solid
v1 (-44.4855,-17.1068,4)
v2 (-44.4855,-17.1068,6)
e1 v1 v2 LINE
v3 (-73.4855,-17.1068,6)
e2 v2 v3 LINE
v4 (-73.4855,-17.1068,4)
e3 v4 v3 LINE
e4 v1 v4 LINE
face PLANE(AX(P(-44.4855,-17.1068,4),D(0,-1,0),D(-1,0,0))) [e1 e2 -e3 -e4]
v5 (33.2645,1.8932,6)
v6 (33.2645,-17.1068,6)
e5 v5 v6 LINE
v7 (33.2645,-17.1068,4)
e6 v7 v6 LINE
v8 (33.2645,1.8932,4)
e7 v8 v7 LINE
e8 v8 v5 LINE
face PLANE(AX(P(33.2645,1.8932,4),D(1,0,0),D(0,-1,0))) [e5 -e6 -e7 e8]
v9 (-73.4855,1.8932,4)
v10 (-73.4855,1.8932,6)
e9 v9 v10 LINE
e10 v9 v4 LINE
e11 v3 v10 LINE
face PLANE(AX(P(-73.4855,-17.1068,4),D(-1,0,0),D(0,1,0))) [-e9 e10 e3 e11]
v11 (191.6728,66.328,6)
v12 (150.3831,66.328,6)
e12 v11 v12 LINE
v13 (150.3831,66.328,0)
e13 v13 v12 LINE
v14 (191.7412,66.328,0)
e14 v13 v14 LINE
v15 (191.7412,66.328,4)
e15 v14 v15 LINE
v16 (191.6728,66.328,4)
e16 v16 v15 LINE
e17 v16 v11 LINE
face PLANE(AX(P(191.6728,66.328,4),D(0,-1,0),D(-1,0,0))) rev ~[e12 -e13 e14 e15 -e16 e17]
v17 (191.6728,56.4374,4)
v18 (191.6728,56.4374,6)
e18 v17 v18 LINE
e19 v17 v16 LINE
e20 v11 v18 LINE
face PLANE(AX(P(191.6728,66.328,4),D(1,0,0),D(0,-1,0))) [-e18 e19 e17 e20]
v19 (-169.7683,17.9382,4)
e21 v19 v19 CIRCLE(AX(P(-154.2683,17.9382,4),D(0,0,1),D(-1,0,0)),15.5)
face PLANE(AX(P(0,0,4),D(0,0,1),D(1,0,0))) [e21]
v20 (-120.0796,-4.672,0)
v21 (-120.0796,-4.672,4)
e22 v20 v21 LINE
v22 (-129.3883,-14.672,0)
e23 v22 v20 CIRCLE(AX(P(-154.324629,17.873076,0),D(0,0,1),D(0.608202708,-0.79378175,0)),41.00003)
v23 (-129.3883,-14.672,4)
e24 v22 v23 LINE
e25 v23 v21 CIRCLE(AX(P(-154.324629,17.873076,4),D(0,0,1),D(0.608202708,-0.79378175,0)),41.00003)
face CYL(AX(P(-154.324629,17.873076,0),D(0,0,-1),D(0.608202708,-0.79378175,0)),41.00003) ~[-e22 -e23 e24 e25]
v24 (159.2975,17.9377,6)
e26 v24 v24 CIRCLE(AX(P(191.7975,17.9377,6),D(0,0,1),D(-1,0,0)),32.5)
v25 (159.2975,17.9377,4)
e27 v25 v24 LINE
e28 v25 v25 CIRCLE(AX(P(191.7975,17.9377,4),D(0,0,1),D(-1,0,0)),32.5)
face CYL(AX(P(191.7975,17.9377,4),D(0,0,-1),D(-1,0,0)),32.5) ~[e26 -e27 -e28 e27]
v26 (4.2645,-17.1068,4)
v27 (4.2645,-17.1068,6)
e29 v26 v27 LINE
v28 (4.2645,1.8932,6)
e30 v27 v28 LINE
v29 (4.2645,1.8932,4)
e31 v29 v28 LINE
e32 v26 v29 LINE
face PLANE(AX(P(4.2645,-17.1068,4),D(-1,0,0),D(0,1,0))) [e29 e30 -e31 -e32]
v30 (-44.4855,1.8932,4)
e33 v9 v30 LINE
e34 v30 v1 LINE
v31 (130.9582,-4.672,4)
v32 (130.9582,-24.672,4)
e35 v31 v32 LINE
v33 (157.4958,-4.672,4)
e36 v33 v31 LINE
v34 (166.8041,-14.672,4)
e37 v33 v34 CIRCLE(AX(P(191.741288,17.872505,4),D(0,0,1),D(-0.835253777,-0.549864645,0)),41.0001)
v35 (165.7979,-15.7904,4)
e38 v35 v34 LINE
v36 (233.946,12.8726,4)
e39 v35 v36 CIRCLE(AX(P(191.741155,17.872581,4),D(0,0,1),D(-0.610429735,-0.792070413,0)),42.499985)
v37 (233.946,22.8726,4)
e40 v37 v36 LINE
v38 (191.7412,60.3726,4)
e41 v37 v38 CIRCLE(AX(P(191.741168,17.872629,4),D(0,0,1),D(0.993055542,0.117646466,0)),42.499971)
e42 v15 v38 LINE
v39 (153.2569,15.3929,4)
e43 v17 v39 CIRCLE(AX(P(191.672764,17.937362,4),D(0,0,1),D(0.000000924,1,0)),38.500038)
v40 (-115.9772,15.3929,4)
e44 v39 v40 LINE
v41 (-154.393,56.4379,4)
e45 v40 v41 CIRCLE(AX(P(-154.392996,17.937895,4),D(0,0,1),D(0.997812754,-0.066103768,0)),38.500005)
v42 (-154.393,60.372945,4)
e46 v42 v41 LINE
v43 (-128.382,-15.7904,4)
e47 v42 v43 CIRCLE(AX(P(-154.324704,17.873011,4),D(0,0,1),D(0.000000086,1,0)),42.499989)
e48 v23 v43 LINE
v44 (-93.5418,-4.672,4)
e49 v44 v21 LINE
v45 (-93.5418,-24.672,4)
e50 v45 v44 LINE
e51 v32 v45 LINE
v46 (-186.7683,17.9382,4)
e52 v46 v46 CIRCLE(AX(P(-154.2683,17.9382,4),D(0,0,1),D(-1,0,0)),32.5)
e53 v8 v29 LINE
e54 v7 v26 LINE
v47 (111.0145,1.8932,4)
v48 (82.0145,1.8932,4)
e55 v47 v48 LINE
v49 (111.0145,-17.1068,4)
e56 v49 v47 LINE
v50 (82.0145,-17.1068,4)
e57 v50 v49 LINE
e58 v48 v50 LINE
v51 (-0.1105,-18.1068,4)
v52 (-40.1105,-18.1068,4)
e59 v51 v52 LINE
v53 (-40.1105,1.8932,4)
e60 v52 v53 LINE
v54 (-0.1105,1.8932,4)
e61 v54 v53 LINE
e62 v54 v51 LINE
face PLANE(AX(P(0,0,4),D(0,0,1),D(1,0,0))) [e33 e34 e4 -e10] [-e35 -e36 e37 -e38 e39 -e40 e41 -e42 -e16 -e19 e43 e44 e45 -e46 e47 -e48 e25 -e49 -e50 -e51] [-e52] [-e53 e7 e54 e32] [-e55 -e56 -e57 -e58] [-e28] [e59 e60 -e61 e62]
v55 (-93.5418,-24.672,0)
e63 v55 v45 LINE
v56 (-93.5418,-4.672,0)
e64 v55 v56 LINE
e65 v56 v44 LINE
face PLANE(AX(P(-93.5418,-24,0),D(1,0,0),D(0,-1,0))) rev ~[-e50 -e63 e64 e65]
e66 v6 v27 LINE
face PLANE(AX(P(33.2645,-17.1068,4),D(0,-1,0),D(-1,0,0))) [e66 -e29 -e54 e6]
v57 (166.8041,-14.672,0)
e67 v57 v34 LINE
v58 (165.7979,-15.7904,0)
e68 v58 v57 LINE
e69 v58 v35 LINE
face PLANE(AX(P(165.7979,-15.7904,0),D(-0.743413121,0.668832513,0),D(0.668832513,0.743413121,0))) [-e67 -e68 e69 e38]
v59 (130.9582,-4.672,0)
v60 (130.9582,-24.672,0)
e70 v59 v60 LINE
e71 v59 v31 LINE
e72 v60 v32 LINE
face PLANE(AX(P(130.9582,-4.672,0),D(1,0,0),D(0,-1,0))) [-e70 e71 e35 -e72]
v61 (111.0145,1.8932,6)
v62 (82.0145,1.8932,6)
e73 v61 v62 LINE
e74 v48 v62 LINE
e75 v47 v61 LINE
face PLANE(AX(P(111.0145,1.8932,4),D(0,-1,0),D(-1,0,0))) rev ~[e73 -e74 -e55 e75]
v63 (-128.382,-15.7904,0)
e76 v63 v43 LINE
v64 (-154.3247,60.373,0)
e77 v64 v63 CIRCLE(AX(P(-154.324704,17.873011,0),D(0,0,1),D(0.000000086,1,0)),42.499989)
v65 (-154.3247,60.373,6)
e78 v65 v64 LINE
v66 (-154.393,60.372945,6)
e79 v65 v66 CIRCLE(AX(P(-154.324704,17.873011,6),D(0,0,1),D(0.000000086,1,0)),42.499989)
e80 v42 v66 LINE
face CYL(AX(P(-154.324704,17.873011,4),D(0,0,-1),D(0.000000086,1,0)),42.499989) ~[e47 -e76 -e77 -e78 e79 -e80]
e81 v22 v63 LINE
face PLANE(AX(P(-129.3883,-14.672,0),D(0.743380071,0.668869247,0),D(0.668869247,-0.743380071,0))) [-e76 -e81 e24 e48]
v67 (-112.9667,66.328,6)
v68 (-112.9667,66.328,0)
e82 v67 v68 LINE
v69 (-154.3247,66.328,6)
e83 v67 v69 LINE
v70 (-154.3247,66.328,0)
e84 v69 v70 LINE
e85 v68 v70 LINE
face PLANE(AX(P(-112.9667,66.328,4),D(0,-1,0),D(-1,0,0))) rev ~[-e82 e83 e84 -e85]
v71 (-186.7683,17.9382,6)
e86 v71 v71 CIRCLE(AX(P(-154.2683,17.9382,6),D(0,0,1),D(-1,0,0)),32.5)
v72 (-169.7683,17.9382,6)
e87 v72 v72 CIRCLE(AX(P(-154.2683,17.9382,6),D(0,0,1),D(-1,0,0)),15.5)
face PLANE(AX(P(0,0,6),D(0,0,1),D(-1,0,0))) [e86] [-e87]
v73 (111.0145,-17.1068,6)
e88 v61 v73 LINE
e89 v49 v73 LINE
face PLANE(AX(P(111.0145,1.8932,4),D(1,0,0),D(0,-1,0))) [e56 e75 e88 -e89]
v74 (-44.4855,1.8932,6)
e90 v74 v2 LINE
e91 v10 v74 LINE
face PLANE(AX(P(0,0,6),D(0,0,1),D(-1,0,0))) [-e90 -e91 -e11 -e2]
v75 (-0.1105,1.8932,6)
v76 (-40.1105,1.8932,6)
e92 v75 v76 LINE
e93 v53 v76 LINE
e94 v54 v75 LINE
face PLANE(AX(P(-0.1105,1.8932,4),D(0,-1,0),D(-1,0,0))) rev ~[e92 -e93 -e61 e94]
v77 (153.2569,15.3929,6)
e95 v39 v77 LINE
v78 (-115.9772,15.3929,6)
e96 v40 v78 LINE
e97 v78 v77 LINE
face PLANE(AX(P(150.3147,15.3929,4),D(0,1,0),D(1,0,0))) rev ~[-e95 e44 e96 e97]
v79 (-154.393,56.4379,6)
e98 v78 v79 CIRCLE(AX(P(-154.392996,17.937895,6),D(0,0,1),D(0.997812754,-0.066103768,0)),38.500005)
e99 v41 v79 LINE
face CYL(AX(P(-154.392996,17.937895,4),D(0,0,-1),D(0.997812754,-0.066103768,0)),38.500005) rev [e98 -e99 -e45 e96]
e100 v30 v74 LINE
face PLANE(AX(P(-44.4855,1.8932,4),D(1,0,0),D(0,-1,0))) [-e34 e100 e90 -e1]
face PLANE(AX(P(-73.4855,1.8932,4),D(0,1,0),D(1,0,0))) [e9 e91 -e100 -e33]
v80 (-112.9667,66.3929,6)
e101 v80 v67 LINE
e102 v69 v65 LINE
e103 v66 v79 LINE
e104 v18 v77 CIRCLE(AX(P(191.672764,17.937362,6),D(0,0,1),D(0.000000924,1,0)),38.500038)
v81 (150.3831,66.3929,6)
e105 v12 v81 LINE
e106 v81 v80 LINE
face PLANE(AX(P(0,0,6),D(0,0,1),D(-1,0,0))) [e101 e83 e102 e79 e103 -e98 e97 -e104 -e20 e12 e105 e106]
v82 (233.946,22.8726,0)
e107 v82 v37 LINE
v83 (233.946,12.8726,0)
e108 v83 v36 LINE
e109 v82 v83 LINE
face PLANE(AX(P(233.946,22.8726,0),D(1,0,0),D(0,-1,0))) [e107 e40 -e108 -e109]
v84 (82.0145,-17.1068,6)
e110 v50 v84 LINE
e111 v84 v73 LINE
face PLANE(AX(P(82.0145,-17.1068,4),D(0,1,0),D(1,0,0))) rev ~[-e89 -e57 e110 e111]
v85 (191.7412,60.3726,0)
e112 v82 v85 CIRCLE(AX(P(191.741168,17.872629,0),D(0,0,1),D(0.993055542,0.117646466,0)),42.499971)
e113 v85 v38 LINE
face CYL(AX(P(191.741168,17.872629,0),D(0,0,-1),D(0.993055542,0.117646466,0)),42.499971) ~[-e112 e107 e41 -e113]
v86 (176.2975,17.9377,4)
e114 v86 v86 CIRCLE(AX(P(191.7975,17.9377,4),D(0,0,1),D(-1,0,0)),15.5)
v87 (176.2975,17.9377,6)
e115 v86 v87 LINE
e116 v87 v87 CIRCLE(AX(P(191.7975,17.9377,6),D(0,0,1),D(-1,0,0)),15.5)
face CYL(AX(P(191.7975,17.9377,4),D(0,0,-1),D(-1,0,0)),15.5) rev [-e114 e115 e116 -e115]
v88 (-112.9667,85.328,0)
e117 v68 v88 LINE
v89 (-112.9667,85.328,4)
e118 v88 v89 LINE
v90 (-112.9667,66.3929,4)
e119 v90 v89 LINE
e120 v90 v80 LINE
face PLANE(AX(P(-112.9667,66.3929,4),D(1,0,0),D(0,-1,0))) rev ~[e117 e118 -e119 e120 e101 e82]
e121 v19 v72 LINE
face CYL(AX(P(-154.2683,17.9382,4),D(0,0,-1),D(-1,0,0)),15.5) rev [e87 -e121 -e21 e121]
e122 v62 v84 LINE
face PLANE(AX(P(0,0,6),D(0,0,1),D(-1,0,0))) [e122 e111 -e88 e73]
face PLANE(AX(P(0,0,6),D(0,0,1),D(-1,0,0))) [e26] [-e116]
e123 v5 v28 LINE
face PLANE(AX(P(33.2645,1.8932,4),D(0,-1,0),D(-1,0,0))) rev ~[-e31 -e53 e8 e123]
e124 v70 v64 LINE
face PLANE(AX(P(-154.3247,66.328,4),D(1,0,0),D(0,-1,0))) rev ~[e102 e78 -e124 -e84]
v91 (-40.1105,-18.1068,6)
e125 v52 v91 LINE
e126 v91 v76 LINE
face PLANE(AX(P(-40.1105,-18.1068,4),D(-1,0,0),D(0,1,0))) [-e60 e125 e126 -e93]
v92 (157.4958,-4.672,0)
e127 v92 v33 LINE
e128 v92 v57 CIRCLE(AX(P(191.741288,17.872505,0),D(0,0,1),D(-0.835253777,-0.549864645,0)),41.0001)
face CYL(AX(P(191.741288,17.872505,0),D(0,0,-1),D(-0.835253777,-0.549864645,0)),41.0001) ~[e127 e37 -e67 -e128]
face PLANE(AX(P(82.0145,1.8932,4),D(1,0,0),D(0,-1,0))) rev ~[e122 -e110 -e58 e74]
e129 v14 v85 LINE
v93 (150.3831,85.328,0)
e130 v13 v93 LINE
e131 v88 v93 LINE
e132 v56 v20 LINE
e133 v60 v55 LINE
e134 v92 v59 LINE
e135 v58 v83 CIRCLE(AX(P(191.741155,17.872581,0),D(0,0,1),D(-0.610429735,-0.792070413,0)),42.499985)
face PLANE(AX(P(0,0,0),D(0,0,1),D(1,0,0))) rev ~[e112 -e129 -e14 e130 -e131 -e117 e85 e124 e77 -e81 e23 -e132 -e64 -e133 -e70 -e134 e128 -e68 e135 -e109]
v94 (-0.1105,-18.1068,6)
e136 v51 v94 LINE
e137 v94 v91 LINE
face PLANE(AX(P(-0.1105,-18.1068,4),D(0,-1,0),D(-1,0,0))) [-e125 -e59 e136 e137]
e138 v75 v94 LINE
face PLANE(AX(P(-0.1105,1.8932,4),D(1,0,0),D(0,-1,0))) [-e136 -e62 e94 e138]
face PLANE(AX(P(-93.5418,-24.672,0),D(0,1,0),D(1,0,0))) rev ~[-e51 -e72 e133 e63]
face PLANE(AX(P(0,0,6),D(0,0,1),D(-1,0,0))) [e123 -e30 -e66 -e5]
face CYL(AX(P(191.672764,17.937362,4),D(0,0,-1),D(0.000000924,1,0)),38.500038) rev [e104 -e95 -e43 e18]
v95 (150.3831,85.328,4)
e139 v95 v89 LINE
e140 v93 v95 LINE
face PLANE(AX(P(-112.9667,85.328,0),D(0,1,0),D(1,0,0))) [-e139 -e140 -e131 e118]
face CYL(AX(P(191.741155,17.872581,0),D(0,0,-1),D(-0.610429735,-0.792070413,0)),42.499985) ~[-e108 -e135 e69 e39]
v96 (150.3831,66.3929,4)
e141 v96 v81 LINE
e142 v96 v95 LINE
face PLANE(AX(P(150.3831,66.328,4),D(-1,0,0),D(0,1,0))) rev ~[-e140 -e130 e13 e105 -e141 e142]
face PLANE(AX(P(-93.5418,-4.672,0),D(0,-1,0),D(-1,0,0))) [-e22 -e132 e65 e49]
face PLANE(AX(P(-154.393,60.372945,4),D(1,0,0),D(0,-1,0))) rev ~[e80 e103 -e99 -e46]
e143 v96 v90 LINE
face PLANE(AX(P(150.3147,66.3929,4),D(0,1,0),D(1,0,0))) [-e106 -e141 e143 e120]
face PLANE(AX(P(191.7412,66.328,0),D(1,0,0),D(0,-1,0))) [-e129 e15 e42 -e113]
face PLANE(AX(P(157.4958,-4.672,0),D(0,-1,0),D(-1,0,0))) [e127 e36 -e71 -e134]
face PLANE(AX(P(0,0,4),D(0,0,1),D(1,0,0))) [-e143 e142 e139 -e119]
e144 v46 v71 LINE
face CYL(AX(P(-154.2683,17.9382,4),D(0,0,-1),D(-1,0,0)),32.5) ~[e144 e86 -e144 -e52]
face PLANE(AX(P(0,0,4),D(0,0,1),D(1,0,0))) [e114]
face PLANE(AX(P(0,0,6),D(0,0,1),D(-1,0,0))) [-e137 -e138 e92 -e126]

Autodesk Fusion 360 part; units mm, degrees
sketch "Sketch1" plane through (0, 0, 0) normal (0, 0, 1) x (1, 0, 0)
  line L0 (110.9582, 1.828) -> (110.9582, -11.672)
  line L1 (-73.5418, 1.828) -> (-73.5418, -11.672)
  line L2 (-73.5418, -24.672) -> (110.9582, -24.672)
  line L3 (-73.5418, 15.328) -> (110.9582, 15.328)
  line L4 (110.9582, -24.672) -> (130.9582, -24.672)
  line L5 (130.9582, -24.672) -> (130.9582, -11.672)
  line L6 (130.9582, 15.328) -> (110.9582, 15.328)
  line L7 (-73.5418, 15.328) -> (-93.5418, 15.328)
  line L8 (-93.5418, -4.672) -> (-93.5418, -24.672)
  line L9 (-93.5418, -24.672) -> (-73.5418, -24.672)
  line L10 (130.9582, -4.672) -> (150.3831, -4.672)
  line L11 (130.9582, 15.328) -> (150.3831, 15.328)
  line L12 (-93.5418, -24.672) -> (-93.5418, -24)
  line L13 (-93.5418, -4.672) -> (-112.9667, -4.672)
  line L14 (-93.5418, 15.328) -> (-112.9667, 15.328)
  line L15 (130.9582, -4.672) -> (130.9582, -11.672)
  line L16 (-112.9667, 85.328) -> (-110, 85.328)
  line L17 (-110, 85.328) -> (150.3831, 85.328)
  line L18 (18.7082, 66.328) -> (150.3831, 66.328)
  line L19 (18.7082, 66.328) -> (16.2618, 66.328)
  line L20 (16.2618, 66.328) -> (-112.9667, 66.328)
  line L21 (157.4958, -4.672) -> (150.3831, -4.672)
  line L22 (191.7412, -4.672) -> (190, -4.672)
  line L23 (-112.9667, -4.672) -> (-120.0796, -4.672)
  circle A0 centre (191.7412, 17.8726) radius 32.5
  circle A1 centre (-154.3247, 17.873) radius 32.5
  line L24 (-112.9667, 66.328) -> (-154.3247, 66.328)
  line L25 (-154.3247, 66.328) -> (-154.3247, 60.373)
  line L26 (150.3831, 66.328) -> (191.7412, 66.328)
  line L27 (191.7412, 66.328) -> (191.7412, 60.3726)
  line L28 (150.3831, 66.328) -> (150.3831, 85.328)
  line L29 (150.3831, 15.328) -> (153.3253, 15.328)
  line L30 (191.7412, 60.3726) -> (191.7412, 56.3726)
  arc A2 (157.4958, -4.672) -> (166.8041, -14.672) centre (191.7412, 17.8726) ccw
  arc A3 (191.7412, 56.3726) -> (153.3253, 15.328) centre (191.7412, 17.8726) ccw
  line L31 (-112.9667, 66.328) -> (-112.9667, 85.328)
  line L32 (-154.3247, 60.373) -> (-154.3247, 56.373)
  line L33 (-112.9667, 15.328) -> (-115.9089, 15.328)
  arc A4 (-154.3247, 60.373) -> (-128.382, -15.7904) centre (-154.3247, 17.873) ccw
  arc A5 (-129.3883, -14.672) -> (-120.0796, -4.672) centre (-154.3247, 17.873) ccw
  arc A6 (-115.9089, 15.328) -> (-154.3247, 56.373) centre (-154.3247, 17.873) ccw
  line L34 (130.9582, -24.672) -> (130.9582, -14.672)
  line L35 (165.7979, -15.7904) -> (166.8041, -14.672)
  line L36 (-129.3883, -14.672) -> (-128.382, -15.7904)
  arc A7 (165.7979, -15.7904) -> (233.946, 12.8726) centre (191.7412, 17.8726) ccw
  arc A8 (233.946, 22.8726) -> (191.7412, 60.3726) centre (191.7412, 17.8726) ccw
  line L37 (110.9582, 1.828) -> (81.9582, 1.828)
  line L38 (81.9582, 1.828) -> (81.9582, -17.172)
  line L39 (81.9582, -17.172) -> (110.9582, -17.172)
  line L40 (110.9582, -17.172) -> (110.9582, -11.672)
  line L41 (-73.5418, 1.828) -> (-44.5418, 1.828)
  line L42 (-44.5418, 1.828) -> (-44.5418, -17.172)
  line L43 (-44.5418, -17.172) -> (-73.5418, -17.172)
  line L44 (-73.5418, -17.172) -> (-73.5418, -11.672)
  line L45 (33.2082, 1.828) -> (4.2082, 1.828)
  line L46 (33.2082, 1.828) -> (33.2082, -17.172)
  line L47 (33.2082, -17.172) -> (4.2082, -17.172)
  line L48 (4.2082, -17.172) -> (4.2082, 1.828)
  line L49 (-0.1668, 1.828) -> (-40.1668, 1.828)
  line L50 (-0.1668, 1.828) -> (-0.1668, -18.172)
  line L51 (-0.1668, -18.172) -> (-40.1668, -18.172)
  line L52 (-40.1668, -18.172) -> (-40.1668, 1.828)
  line L53 (233.946, 22.8726) -> (233.946, 12.8726)
  circle A9 centre (-154.3247, 17.873) radius 15.5
  circle A10 centre (191.7412, 17.8726) radius 15.5
  dimension "d9" = 13
  dimension "d10" = 13
  dimension "d12" = 13.5
  dimension "d13" = 13.5
  dimension "d14" = 20
  dimension "d15" = 20
  dimension "d16" = 20
  dimension "d17" = 20
  dimension "d50" = 70
  dimension "d51" = 70
  dimension "d57" = 65
  dimension "d58" = 77
  dimension "d59" = 65
  dimension "d60" = 77
  dimension "d61" = 82
  dimension "d63" = 82
  dimension "d64" = 85
  dimension "d65" = 10
  dimension "d68" = 29
  dimension "d69" = 19
  dimension "d70" = 29
  dimension "d71" = 19
  dimension "d73" = 29
  dimension "d74" = 19
  dimension "d76" = 40
  dimension "d77" = 20
  dimension "d78" = 40
  dimension "d79" = 31
  dimension "d80" = 31
extrude "Extrude1" add sketch "Sketch1" along normal blind 4 contours L0 L37 L38 L39 L40 | L1 L41 L42 L43 L44 | L2 L3 L4 L5 L6 L7 L8 L9 L10 L11 L12 L13 L14 L15 L21 L23 L29 L30 A2 A3 L32 L33 A4 A5 A6 L34 L35 L36 A7 A8 L53 | L3 L6 L7 L11 L14 L18 L19 L20 L24 L25 L26 L27 L29 L30 A3 L32 L33 A6 | L16 L17 L18 L19 L20 L28 L31 | A0 | A1 | L45 L46 L47 L48 | L49 L50 L51 L52 | A9 | A10
sketch "Sketch2" plane through (0, 0, 4) normal (0, 0, 1) x (-1, 0, 0)
  line L0 (-150.3831, -66.328) -> (-150.3831, -85.328)
  line L1 (-150.3831, -85.328) -> (112.9667, -85.328)
  line L2 (112.9667, -85.328) -> (112.9667, -66.328)
  line L3 (112.9667, -66.328) -> (154.3247, -66.328)
  line L4 (154.3247, -66.328) -> (154.3247, -60.373)
  arc A0 (154.3247, -60.373) -> (128.382, 15.7904) centre (154.3247, -17.873) ccw
  line L5 (128.382, 15.7904) -> (129.3883, 14.672)
  arc A1 (129.3883, 14.672) -> (120.0796, 4.672) centre (154.3247, -17.873) ccw
  line L6 (120.0796, 4.672) -> (93.5418, 4.672)
  line L7 (93.5418, 4.672) -> (93.5418, 24.672)
  line L8 (93.5418, 24.672) -> (-130.9582, 24.672)
  line L9 (-130.9582, 24.672) -> (-130.9582, 4.672)
  line L10 (-130.9582, 4.672) -> (-157.4958, 4.672)
  arc A2 (-157.4958, 4.672) -> (-166.8041, 14.672) centre (-191.7412, -17.8726) ccw
  line L11 (-166.8041, 14.672) -> (-165.7979, 15.7904)
  arc A3 (-165.7979, 15.7904) -> (-233.946, -12.8726) centre (-191.7412, -17.8726) ccw
  line L12 (-233.946, -12.8726) -> (-233.946, -22.8726)
  arc A4 (-233.946, -22.8726) -> (-191.7412, -60.3726) centre (-191.7412, -17.8726) ccw
  line L13 (-191.7412, -60.3726) -> (-191.7412, -66.328)
  line L14 (-191.7412, -66.328) -> (-150.3831, -66.328)
  arc A5 (-191.6728, -56.4374) -> (-153.2569, -15.3929) centre (-191.6728, -17.9374) ccw
  line L15 (154.393, -66.3929) -> (154.393, -60.4379)
  line L16 (73.6102, -15.3929) -> (-110.8898, -15.3929)
  line L17 (113.035, -66.3929) -> (113.035, -85.3929)
  line L18 (40.2352, 18.1071) -> (40.2352, -1.8929)
  line L19 (110.0684, -85.3929) -> (-150.3147, -85.3929)
  line L20 (0.2352, 18.1071) -> (40.2352, 18.1071)
  line L21 (-33.1398, -1.8929) -> (-33.1398, 17.1071)
  line L22 (-16.1934, -66.3929) -> (113.035, -66.3929)
  arc A6 (154.393, -60.4379) -> (128.4504, 15.7255) centre (154.393, -17.9379) ccw
  line L23 (-18.6398, -66.3929) -> (-150.3147, -66.3929)
  line L24 (73.6102, 24.6071) -> (-110.8898, 24.6071)
  arc A7 (129.4567, 14.6071) -> (120.148, 4.6071) centre (154.393, -17.9379) ccw
  line L25 (113.035, -66.3929) -> (154.393, -66.3929)
  line L26 (73.6102, -15.3929) -> (93.6102, -15.3929)
  line L27 (113.035, -15.3929) -> (115.9772, -15.3929)
  line L28 (113.035, 4.6071) -> (120.148, 4.6071)
  line L29 (93.6102, 4.6071) -> (113.035, 4.6071)
  line L30 (93.6102, 24.6071) -> (93.6102, 23.9351)
  line L31 (44.6102, 17.1071) -> (73.6102, 17.1071)
  line L32 (93.6102, 4.6071) -> (93.6102, 24.6071)
  line L33 (0.2352, -1.8929) -> (0.2352, 18.1071)
  line L34 (73.6102, -1.8929) -> (44.6102, -1.8929)
  line L35 (93.6102, 24.6071) -> (73.6102, 24.6071)
  line L36 (73.6102, 17.1071) -> (73.6102, 11.6071)
  line L37 (-18.6398, -66.3929) -> (-16.1934, -66.3929)
  line L38 (129.4567, 14.6071) -> (128.4504, 15.7255)
  line L39 (73.6102, -1.8929) -> (73.6102, 11.6071)
  line L40 (154.393, -60.4379) -> (154.393, -56.4379)
  line L41 (-4.1398, 17.1071) -> (-4.1398, -1.8929)
  line L42 (44.6102, -1.8929) -> (44.6102, 17.1071)
  line L43 (113.035, -85.3929) -> (110.0684, -85.3929)
  line L44 (93.6102, -15.3929) -> (113.035, -15.3929)
  line L45 (-33.1398, 17.1071) -> (-4.1398, 17.1071)
  line L46 (-33.1398, -1.8929) -> (-4.1398, -1.8929)
  line L47 (0.2352, -1.8929) -> (40.2352, -1.8929)
  circle A8 centre (-191.6728, -17.9374) radius 15.5
  line L48 (-110.8898, -1.8929) -> (-81.8898, -1.8929)
  line L49 (-191.6728, -60.4374) -> (-191.6728, -56.4374)
  line L50 (-130.8898, 4.6071) -> (-150.3147, 4.6071)
  line L51 (-130.8898, -15.3929) -> (-110.8898, -15.3929)
  line L52 (-81.8898, -1.8929) -> (-81.8898, 17.1071)
  arc A9 (-233.8776, -22.9374) -> (-191.6728, -60.4374) centre (-191.6728, -17.9374) ccw
  circle A10 centre (-191.6728, -17.9374) radius 32.5
  line L53 (-130.8898, 24.6071) -> (-130.8898, 11.6071)
  arc A11 (-157.4274, 4.6071) -> (-166.7357, 14.6071) centre (-191.6728, -17.9374) ccw
  line L54 (-157.4274, 4.6071) -> (-150.3147, 4.6071)
  line L55 (-110.8898, 24.6071) -> (-130.8898, 24.6071)
  line L56 (-130.8898, -15.3929) -> (-150.3147, -15.3929)
  line L57 (-110.8898, 17.1071) -> (-110.8898, 11.6071)
  line L58 (-165.7295, 15.7255) -> (-166.7357, 14.6071)
  line L59 (-191.6728, -66.3929) -> (-191.6728, -60.4374)
  line L60 (-130.8898, 24.6071) -> (-130.8898, 14.6071)
  line L61 (-81.8898, 17.1071) -> (-110.8898, 17.1071)
  arc A12 (-165.7295, 15.7255) -> (-233.8776, -12.9374) centre (-191.6728, -17.9374) ccw
  line L62 (-150.3147, -15.3929) -> (-153.2569, -15.3929)
  line L63 (-233.8776, -22.9374) -> (-233.8776, -12.9374)
  line L64 (-110.8898, -1.8929) -> (-110.8898, 11.6071)
  line L65 (-150.3147, -66.3929) -> (-150.3147, -85.3929)
  line L66 (-130.8898, 4.6071) -> (-130.8898, 11.6071)
  line L67 (-150.3147, -66.3929) -> (-191.6728, -66.3929)
  circle A13 centre (154.393, -17.9379) radius 32.5
  circle A14 centre (154.393, -17.9379) radius 15.5
  arc A15 (115.9772, -15.3929) -> (154.393, -56.4379) centre (154.393, -17.9379) ccw
  point P0 (0.0684, -0.0649)
  dimension "d83" = 13
  dimension "d84" = 13
  dimension "d85" = 13.5
  dimension "d86" = 13.5
  dimension "d87" = 20
  dimension "d88" = 20
  dimension "d89" = 20
  dimension "d90" = 20
  dimension "d91" = 70
  dimension "d92" = 70
  dimension "d93" = 65
  dimension "d94" = 77
  dimension "d95" = 65
  dimension "d96" = 77
  dimension "d97" = 82
  dimension "d98" = 82
  dimension "d99" = 85
  dimension "d100" = 10
  dimension "d101" = 29
  dimension "d102" = 19
  dimension "d103" = 29
  dimension "d104" = 19
  dimension "d105" = 29
  dimension "d106" = 19
  dimension "d107" = 40
  dimension "d108" = 20
  dimension "d109" = 40
  dimension "d110" = 31
  dimension "d111" = 31
extrude "Extrude2" add sketch "Sketch2" along normal blind 2 contours L0 L2 L3 L4 A0 L14 A5 L16 L22 L23 L26 L27 L37 L40 L44 L49 L51 L56 L59 L62 L67 A15
sketch "Sketch3" plane through (0, 0, 4) normal (0, 0, 1) x (-1, 0, 0)
  line L0 (-191.6728, -66.328) -> (-191.6728, -56.4374)
  arc A0 (-191.6728, -56.4374) -> (-153.2569, -15.3929) centre (-191.6728, -17.9374) ccw
  line L1 (-153.2569, -15.3929) -> (115.9772, -15.3929)
  arc A1 (115.9772, -15.3929) -> (154.393, -56.4379) centre (154.393, -17.9379) ccw
  line L2 (154.393, -56.4379) -> (154.393, -60.373)
  arc A2 (154.393, -60.373) -> (128.382, 15.7904) centre (154.3247, -17.873) ccw
  line L3 (128.382, 15.7904) -> (129.3883, 14.672)
  arc A3 (129.3883, 14.672) -> (120.0796, 4.672) centre (154.3247, -17.873) ccw
  line L4 (120.0796, 4.672) -> (93.5418, 4.672)
  line L5 (93.5418, 4.672) -> (93.5418, 24.672)
  line L6 (93.5418, 24.672) -> (-130.9582, 24.672)
  line L7 (-130.9582, 24.672) -> (-130.9582, 4.672)
  line L8 (-130.9582, 4.672) -> (-157.4958, 4.672)
  arc A4 (-157.4958, 4.672) -> (-166.8041, 14.672) centre (-191.7412, -17.8726) ccw
  line L9 (-166.8041, 14.672) -> (-165.7979, 15.7904)
  arc A5 (-165.7979, 15.7904) -> (-233.946, -12.8726) centre (-191.7412, -17.8726) ccw
  line L10 (-233.946, -12.8726) -> (-233.946, -22.8726)
  arc A6 (-233.946, -22.8726) -> (-191.7412, -60.3726) centre (-191.7412, -17.8726) ccw
  line L11 (-191.7412, -60.3726) -> (-191.7412, -66.328)
  line L12 (-191.7412, -66.328) -> (-191.6728, -66.328)
  arc A7 (-191.7975, -56.4377) -> (-153.3817, -15.3932) centre (-191.7975, -17.9377) ccw
  line L13 (154.2683, -66.3932) -> (154.2683, -60.4382)
  line L14 (73.4855, -15.3932) -> (-111.0145, -15.3932)
  line L15 (112.9103, -66.3932) -> (112.9103, -85.3932)
  line L16 (40.1105, 18.1068) -> (40.1105, -1.8932)
  line L17 (109.9436, -85.3932) -> (-150.4395, -85.3932)
  line L18 (0.1105, 18.1068) -> (40.1105, 18.1068)
  line L19 (-33.2645, -1.8932) -> (-33.2645, 17.1068)
  line L20 (-16.3182, -66.3932) -> (112.9103, -66.3932)
  arc A8 (154.2683, -60.4382) -> (128.3256, 15.7252) centre (154.2683, -17.9382) ccw
  line L21 (-18.7645, -66.3932) -> (-150.4395, -66.3932)
  line L22 (73.4855, 24.6068) -> (-111.0145, 24.6068)
  arc A9 (129.3319, 14.6068) -> (120.0232, 4.6068) centre (154.2683, -17.9382) ccw
  line L23 (112.9103, -66.3932) -> (154.2683, -66.3932)
  line L24 (73.4855, -15.3932) -> (93.4855, -15.3932)
  line L25 (112.9103, -15.3932) -> (115.8525, -15.3932)
  line L26 (112.9103, 4.6068) -> (120.0232, 4.6068)
  line L27 (93.4855, 4.6068) -> (112.9103, 4.6068)
  line L28 (93.4855, 24.6068) -> (93.4855, 23.9348)
  line L29 (44.4855, 17.1068) -> (73.4855, 17.1068)
  line L30 (93.4855, 4.6068) -> (93.4855, 24.6068)
  line L31 (0.1105, -1.8932) -> (0.1105, 18.1068)
  line L32 (73.4855, -1.8932) -> (44.4855, -1.8932)
  line L33 (93.4855, 24.6068) -> (73.4855, 24.6068)
  line L34 (73.4855, 17.1068) -> (73.4855, 11.6068)
  line L35 (-18.7645, -66.3932) -> (-16.3182, -66.3932)
  line L36 (129.3319, 14.6068) -> (128.3256, 15.7252)
  line L37 (73.4855, -1.8932) -> (73.4855, 11.6068)
  line L38 (154.2683, -60.4382) -> (154.2683, -56.4382)
  line L39 (-4.2645, 17.1068) -> (-4.2645, -1.8932)
  line L40 (44.4855, -1.8932) -> (44.4855, 17.1068)
  line L41 (112.9103, -85.3932) -> (109.9436, -85.3932)
  line L42 (93.4855, -15.3932) -> (112.9103, -15.3932)
  line L43 (-33.2645, 17.1068) -> (-4.2645, 17.1068)
  line L44 (-33.2645, -1.8932) -> (-4.2645, -1.8932)
  line L45 (0.1105, -1.8932) -> (40.1105, -1.8932)
  circle A10 centre (-191.7975, -17.9377) radius 15.5
  line L46 (-111.0145, -1.8932) -> (-82.0145, -1.8932)
  line L47 (-191.7975, -60.4377) -> (-191.7975, -56.4377)
  line L48 (-131.0145, 4.6068) -> (-150.4395, 4.6068)
  line L49 (-131.0145, -15.3932) -> (-111.0145, -15.3932)
  line L50 (-82.0145, -1.8932) -> (-82.0145, 17.1068)
  arc A11 (-234.0024, -22.9377) -> (-191.7975, -60.4377) centre (-191.7975, -17.9377) ccw
  circle A12 centre (-191.7975, -17.9377) radius 32.5
  line L51 (-131.0145, 24.6068) -> (-131.0145, 11.6068)
  arc A13 (-157.5522, 4.6068) -> (-166.8605, 14.6068) centre (-191.7975, -17.9377) ccw
  line L52 (-157.5522, 4.6068) -> (-150.4395, 4.6068)
  line L53 (-111.0145, 24.6068) -> (-131.0145, 24.6068)
  line L54 (-131.0145, -15.3932) -> (-150.4395, -15.3932)
  line L55 (-111.0145, 17.1068) -> (-111.0145, 11.6068)
  line L56 (-165.8542, 15.7252) -> (-166.8605, 14.6068)
  line L57 (-191.7975, -66.3932) -> (-191.7975, -60.4377)
  line L58 (-131.0145, 24.6068) -> (-131.0145, 14.6068)
  line L59 (-82.0145, 17.1068) -> (-111.0145, 17.1068)
  arc A14 (-165.8542, 15.7252) -> (-234.0024, -12.9377) centre (-191.7975, -17.9377) ccw
  line L60 (-150.4395, -15.3932) -> (-153.3817, -15.3932)
  line L61 (-234.0024, -22.9377) -> (-234.0024, -12.9377)
  line L62 (-111.0145, -1.8932) -> (-111.0145, 11.6068)
  line L63 (-150.4395, -66.3932) -> (-150.4395, -85.3932)
  line L64 (-131.0145, 4.6068) -> (-131.0145, 11.6068)
  line L65 (-150.4395, -66.3932) -> (-191.7975, -66.3932)
  circle A15 centre (154.2683, -17.9382) radius 32.5
  circle A16 centre (154.2683, -17.9382) radius 15.5
  arc A17 (115.8525, -15.3932) -> (154.2683, -56.4382) centre (154.2683, -17.9382) ccw
  point P0 (-0.0564, -0.0652)
  dimension "d114" = 13
  dimension "d115" = 13
  dimension "d116" = 13.5
  dimension "d117" = 13.5
  dimension "d118" = 20
  dimension "d119" = 20
  dimension "d120" = 20
  dimension "d121" = 20
  dimension "d122" = 70
  dimension "d123" = 70
  dimension "d124" = 65
  dimension "d125" = 77
  dimension "d126" = 65
  dimension "d127" = 77
  dimension "d128" = 82
  dimension "d129" = 82
  dimension "d130" = 85
  dimension "d131" = 10
  dimension "d132" = 29
  dimension "d133" = 19
  dimension "d134" = 29
  dimension "d135" = 19
  dimension "d136" = 29
  dimension "d137" = 19
  dimension "d138" = 40
  dimension "d139" = 20
  dimension "d140" = 40
  dimension "d141" = 31
  dimension "d142" = 31
extrude "Extrude3" add sketch "Sketch3" along normal blind 2 contours L16 L18 L31 L45 | L19 L39 L43 L44 | L29 L32 L34 L37 L40 | L46 L50 L55 L59 L62 | A12 | A15
